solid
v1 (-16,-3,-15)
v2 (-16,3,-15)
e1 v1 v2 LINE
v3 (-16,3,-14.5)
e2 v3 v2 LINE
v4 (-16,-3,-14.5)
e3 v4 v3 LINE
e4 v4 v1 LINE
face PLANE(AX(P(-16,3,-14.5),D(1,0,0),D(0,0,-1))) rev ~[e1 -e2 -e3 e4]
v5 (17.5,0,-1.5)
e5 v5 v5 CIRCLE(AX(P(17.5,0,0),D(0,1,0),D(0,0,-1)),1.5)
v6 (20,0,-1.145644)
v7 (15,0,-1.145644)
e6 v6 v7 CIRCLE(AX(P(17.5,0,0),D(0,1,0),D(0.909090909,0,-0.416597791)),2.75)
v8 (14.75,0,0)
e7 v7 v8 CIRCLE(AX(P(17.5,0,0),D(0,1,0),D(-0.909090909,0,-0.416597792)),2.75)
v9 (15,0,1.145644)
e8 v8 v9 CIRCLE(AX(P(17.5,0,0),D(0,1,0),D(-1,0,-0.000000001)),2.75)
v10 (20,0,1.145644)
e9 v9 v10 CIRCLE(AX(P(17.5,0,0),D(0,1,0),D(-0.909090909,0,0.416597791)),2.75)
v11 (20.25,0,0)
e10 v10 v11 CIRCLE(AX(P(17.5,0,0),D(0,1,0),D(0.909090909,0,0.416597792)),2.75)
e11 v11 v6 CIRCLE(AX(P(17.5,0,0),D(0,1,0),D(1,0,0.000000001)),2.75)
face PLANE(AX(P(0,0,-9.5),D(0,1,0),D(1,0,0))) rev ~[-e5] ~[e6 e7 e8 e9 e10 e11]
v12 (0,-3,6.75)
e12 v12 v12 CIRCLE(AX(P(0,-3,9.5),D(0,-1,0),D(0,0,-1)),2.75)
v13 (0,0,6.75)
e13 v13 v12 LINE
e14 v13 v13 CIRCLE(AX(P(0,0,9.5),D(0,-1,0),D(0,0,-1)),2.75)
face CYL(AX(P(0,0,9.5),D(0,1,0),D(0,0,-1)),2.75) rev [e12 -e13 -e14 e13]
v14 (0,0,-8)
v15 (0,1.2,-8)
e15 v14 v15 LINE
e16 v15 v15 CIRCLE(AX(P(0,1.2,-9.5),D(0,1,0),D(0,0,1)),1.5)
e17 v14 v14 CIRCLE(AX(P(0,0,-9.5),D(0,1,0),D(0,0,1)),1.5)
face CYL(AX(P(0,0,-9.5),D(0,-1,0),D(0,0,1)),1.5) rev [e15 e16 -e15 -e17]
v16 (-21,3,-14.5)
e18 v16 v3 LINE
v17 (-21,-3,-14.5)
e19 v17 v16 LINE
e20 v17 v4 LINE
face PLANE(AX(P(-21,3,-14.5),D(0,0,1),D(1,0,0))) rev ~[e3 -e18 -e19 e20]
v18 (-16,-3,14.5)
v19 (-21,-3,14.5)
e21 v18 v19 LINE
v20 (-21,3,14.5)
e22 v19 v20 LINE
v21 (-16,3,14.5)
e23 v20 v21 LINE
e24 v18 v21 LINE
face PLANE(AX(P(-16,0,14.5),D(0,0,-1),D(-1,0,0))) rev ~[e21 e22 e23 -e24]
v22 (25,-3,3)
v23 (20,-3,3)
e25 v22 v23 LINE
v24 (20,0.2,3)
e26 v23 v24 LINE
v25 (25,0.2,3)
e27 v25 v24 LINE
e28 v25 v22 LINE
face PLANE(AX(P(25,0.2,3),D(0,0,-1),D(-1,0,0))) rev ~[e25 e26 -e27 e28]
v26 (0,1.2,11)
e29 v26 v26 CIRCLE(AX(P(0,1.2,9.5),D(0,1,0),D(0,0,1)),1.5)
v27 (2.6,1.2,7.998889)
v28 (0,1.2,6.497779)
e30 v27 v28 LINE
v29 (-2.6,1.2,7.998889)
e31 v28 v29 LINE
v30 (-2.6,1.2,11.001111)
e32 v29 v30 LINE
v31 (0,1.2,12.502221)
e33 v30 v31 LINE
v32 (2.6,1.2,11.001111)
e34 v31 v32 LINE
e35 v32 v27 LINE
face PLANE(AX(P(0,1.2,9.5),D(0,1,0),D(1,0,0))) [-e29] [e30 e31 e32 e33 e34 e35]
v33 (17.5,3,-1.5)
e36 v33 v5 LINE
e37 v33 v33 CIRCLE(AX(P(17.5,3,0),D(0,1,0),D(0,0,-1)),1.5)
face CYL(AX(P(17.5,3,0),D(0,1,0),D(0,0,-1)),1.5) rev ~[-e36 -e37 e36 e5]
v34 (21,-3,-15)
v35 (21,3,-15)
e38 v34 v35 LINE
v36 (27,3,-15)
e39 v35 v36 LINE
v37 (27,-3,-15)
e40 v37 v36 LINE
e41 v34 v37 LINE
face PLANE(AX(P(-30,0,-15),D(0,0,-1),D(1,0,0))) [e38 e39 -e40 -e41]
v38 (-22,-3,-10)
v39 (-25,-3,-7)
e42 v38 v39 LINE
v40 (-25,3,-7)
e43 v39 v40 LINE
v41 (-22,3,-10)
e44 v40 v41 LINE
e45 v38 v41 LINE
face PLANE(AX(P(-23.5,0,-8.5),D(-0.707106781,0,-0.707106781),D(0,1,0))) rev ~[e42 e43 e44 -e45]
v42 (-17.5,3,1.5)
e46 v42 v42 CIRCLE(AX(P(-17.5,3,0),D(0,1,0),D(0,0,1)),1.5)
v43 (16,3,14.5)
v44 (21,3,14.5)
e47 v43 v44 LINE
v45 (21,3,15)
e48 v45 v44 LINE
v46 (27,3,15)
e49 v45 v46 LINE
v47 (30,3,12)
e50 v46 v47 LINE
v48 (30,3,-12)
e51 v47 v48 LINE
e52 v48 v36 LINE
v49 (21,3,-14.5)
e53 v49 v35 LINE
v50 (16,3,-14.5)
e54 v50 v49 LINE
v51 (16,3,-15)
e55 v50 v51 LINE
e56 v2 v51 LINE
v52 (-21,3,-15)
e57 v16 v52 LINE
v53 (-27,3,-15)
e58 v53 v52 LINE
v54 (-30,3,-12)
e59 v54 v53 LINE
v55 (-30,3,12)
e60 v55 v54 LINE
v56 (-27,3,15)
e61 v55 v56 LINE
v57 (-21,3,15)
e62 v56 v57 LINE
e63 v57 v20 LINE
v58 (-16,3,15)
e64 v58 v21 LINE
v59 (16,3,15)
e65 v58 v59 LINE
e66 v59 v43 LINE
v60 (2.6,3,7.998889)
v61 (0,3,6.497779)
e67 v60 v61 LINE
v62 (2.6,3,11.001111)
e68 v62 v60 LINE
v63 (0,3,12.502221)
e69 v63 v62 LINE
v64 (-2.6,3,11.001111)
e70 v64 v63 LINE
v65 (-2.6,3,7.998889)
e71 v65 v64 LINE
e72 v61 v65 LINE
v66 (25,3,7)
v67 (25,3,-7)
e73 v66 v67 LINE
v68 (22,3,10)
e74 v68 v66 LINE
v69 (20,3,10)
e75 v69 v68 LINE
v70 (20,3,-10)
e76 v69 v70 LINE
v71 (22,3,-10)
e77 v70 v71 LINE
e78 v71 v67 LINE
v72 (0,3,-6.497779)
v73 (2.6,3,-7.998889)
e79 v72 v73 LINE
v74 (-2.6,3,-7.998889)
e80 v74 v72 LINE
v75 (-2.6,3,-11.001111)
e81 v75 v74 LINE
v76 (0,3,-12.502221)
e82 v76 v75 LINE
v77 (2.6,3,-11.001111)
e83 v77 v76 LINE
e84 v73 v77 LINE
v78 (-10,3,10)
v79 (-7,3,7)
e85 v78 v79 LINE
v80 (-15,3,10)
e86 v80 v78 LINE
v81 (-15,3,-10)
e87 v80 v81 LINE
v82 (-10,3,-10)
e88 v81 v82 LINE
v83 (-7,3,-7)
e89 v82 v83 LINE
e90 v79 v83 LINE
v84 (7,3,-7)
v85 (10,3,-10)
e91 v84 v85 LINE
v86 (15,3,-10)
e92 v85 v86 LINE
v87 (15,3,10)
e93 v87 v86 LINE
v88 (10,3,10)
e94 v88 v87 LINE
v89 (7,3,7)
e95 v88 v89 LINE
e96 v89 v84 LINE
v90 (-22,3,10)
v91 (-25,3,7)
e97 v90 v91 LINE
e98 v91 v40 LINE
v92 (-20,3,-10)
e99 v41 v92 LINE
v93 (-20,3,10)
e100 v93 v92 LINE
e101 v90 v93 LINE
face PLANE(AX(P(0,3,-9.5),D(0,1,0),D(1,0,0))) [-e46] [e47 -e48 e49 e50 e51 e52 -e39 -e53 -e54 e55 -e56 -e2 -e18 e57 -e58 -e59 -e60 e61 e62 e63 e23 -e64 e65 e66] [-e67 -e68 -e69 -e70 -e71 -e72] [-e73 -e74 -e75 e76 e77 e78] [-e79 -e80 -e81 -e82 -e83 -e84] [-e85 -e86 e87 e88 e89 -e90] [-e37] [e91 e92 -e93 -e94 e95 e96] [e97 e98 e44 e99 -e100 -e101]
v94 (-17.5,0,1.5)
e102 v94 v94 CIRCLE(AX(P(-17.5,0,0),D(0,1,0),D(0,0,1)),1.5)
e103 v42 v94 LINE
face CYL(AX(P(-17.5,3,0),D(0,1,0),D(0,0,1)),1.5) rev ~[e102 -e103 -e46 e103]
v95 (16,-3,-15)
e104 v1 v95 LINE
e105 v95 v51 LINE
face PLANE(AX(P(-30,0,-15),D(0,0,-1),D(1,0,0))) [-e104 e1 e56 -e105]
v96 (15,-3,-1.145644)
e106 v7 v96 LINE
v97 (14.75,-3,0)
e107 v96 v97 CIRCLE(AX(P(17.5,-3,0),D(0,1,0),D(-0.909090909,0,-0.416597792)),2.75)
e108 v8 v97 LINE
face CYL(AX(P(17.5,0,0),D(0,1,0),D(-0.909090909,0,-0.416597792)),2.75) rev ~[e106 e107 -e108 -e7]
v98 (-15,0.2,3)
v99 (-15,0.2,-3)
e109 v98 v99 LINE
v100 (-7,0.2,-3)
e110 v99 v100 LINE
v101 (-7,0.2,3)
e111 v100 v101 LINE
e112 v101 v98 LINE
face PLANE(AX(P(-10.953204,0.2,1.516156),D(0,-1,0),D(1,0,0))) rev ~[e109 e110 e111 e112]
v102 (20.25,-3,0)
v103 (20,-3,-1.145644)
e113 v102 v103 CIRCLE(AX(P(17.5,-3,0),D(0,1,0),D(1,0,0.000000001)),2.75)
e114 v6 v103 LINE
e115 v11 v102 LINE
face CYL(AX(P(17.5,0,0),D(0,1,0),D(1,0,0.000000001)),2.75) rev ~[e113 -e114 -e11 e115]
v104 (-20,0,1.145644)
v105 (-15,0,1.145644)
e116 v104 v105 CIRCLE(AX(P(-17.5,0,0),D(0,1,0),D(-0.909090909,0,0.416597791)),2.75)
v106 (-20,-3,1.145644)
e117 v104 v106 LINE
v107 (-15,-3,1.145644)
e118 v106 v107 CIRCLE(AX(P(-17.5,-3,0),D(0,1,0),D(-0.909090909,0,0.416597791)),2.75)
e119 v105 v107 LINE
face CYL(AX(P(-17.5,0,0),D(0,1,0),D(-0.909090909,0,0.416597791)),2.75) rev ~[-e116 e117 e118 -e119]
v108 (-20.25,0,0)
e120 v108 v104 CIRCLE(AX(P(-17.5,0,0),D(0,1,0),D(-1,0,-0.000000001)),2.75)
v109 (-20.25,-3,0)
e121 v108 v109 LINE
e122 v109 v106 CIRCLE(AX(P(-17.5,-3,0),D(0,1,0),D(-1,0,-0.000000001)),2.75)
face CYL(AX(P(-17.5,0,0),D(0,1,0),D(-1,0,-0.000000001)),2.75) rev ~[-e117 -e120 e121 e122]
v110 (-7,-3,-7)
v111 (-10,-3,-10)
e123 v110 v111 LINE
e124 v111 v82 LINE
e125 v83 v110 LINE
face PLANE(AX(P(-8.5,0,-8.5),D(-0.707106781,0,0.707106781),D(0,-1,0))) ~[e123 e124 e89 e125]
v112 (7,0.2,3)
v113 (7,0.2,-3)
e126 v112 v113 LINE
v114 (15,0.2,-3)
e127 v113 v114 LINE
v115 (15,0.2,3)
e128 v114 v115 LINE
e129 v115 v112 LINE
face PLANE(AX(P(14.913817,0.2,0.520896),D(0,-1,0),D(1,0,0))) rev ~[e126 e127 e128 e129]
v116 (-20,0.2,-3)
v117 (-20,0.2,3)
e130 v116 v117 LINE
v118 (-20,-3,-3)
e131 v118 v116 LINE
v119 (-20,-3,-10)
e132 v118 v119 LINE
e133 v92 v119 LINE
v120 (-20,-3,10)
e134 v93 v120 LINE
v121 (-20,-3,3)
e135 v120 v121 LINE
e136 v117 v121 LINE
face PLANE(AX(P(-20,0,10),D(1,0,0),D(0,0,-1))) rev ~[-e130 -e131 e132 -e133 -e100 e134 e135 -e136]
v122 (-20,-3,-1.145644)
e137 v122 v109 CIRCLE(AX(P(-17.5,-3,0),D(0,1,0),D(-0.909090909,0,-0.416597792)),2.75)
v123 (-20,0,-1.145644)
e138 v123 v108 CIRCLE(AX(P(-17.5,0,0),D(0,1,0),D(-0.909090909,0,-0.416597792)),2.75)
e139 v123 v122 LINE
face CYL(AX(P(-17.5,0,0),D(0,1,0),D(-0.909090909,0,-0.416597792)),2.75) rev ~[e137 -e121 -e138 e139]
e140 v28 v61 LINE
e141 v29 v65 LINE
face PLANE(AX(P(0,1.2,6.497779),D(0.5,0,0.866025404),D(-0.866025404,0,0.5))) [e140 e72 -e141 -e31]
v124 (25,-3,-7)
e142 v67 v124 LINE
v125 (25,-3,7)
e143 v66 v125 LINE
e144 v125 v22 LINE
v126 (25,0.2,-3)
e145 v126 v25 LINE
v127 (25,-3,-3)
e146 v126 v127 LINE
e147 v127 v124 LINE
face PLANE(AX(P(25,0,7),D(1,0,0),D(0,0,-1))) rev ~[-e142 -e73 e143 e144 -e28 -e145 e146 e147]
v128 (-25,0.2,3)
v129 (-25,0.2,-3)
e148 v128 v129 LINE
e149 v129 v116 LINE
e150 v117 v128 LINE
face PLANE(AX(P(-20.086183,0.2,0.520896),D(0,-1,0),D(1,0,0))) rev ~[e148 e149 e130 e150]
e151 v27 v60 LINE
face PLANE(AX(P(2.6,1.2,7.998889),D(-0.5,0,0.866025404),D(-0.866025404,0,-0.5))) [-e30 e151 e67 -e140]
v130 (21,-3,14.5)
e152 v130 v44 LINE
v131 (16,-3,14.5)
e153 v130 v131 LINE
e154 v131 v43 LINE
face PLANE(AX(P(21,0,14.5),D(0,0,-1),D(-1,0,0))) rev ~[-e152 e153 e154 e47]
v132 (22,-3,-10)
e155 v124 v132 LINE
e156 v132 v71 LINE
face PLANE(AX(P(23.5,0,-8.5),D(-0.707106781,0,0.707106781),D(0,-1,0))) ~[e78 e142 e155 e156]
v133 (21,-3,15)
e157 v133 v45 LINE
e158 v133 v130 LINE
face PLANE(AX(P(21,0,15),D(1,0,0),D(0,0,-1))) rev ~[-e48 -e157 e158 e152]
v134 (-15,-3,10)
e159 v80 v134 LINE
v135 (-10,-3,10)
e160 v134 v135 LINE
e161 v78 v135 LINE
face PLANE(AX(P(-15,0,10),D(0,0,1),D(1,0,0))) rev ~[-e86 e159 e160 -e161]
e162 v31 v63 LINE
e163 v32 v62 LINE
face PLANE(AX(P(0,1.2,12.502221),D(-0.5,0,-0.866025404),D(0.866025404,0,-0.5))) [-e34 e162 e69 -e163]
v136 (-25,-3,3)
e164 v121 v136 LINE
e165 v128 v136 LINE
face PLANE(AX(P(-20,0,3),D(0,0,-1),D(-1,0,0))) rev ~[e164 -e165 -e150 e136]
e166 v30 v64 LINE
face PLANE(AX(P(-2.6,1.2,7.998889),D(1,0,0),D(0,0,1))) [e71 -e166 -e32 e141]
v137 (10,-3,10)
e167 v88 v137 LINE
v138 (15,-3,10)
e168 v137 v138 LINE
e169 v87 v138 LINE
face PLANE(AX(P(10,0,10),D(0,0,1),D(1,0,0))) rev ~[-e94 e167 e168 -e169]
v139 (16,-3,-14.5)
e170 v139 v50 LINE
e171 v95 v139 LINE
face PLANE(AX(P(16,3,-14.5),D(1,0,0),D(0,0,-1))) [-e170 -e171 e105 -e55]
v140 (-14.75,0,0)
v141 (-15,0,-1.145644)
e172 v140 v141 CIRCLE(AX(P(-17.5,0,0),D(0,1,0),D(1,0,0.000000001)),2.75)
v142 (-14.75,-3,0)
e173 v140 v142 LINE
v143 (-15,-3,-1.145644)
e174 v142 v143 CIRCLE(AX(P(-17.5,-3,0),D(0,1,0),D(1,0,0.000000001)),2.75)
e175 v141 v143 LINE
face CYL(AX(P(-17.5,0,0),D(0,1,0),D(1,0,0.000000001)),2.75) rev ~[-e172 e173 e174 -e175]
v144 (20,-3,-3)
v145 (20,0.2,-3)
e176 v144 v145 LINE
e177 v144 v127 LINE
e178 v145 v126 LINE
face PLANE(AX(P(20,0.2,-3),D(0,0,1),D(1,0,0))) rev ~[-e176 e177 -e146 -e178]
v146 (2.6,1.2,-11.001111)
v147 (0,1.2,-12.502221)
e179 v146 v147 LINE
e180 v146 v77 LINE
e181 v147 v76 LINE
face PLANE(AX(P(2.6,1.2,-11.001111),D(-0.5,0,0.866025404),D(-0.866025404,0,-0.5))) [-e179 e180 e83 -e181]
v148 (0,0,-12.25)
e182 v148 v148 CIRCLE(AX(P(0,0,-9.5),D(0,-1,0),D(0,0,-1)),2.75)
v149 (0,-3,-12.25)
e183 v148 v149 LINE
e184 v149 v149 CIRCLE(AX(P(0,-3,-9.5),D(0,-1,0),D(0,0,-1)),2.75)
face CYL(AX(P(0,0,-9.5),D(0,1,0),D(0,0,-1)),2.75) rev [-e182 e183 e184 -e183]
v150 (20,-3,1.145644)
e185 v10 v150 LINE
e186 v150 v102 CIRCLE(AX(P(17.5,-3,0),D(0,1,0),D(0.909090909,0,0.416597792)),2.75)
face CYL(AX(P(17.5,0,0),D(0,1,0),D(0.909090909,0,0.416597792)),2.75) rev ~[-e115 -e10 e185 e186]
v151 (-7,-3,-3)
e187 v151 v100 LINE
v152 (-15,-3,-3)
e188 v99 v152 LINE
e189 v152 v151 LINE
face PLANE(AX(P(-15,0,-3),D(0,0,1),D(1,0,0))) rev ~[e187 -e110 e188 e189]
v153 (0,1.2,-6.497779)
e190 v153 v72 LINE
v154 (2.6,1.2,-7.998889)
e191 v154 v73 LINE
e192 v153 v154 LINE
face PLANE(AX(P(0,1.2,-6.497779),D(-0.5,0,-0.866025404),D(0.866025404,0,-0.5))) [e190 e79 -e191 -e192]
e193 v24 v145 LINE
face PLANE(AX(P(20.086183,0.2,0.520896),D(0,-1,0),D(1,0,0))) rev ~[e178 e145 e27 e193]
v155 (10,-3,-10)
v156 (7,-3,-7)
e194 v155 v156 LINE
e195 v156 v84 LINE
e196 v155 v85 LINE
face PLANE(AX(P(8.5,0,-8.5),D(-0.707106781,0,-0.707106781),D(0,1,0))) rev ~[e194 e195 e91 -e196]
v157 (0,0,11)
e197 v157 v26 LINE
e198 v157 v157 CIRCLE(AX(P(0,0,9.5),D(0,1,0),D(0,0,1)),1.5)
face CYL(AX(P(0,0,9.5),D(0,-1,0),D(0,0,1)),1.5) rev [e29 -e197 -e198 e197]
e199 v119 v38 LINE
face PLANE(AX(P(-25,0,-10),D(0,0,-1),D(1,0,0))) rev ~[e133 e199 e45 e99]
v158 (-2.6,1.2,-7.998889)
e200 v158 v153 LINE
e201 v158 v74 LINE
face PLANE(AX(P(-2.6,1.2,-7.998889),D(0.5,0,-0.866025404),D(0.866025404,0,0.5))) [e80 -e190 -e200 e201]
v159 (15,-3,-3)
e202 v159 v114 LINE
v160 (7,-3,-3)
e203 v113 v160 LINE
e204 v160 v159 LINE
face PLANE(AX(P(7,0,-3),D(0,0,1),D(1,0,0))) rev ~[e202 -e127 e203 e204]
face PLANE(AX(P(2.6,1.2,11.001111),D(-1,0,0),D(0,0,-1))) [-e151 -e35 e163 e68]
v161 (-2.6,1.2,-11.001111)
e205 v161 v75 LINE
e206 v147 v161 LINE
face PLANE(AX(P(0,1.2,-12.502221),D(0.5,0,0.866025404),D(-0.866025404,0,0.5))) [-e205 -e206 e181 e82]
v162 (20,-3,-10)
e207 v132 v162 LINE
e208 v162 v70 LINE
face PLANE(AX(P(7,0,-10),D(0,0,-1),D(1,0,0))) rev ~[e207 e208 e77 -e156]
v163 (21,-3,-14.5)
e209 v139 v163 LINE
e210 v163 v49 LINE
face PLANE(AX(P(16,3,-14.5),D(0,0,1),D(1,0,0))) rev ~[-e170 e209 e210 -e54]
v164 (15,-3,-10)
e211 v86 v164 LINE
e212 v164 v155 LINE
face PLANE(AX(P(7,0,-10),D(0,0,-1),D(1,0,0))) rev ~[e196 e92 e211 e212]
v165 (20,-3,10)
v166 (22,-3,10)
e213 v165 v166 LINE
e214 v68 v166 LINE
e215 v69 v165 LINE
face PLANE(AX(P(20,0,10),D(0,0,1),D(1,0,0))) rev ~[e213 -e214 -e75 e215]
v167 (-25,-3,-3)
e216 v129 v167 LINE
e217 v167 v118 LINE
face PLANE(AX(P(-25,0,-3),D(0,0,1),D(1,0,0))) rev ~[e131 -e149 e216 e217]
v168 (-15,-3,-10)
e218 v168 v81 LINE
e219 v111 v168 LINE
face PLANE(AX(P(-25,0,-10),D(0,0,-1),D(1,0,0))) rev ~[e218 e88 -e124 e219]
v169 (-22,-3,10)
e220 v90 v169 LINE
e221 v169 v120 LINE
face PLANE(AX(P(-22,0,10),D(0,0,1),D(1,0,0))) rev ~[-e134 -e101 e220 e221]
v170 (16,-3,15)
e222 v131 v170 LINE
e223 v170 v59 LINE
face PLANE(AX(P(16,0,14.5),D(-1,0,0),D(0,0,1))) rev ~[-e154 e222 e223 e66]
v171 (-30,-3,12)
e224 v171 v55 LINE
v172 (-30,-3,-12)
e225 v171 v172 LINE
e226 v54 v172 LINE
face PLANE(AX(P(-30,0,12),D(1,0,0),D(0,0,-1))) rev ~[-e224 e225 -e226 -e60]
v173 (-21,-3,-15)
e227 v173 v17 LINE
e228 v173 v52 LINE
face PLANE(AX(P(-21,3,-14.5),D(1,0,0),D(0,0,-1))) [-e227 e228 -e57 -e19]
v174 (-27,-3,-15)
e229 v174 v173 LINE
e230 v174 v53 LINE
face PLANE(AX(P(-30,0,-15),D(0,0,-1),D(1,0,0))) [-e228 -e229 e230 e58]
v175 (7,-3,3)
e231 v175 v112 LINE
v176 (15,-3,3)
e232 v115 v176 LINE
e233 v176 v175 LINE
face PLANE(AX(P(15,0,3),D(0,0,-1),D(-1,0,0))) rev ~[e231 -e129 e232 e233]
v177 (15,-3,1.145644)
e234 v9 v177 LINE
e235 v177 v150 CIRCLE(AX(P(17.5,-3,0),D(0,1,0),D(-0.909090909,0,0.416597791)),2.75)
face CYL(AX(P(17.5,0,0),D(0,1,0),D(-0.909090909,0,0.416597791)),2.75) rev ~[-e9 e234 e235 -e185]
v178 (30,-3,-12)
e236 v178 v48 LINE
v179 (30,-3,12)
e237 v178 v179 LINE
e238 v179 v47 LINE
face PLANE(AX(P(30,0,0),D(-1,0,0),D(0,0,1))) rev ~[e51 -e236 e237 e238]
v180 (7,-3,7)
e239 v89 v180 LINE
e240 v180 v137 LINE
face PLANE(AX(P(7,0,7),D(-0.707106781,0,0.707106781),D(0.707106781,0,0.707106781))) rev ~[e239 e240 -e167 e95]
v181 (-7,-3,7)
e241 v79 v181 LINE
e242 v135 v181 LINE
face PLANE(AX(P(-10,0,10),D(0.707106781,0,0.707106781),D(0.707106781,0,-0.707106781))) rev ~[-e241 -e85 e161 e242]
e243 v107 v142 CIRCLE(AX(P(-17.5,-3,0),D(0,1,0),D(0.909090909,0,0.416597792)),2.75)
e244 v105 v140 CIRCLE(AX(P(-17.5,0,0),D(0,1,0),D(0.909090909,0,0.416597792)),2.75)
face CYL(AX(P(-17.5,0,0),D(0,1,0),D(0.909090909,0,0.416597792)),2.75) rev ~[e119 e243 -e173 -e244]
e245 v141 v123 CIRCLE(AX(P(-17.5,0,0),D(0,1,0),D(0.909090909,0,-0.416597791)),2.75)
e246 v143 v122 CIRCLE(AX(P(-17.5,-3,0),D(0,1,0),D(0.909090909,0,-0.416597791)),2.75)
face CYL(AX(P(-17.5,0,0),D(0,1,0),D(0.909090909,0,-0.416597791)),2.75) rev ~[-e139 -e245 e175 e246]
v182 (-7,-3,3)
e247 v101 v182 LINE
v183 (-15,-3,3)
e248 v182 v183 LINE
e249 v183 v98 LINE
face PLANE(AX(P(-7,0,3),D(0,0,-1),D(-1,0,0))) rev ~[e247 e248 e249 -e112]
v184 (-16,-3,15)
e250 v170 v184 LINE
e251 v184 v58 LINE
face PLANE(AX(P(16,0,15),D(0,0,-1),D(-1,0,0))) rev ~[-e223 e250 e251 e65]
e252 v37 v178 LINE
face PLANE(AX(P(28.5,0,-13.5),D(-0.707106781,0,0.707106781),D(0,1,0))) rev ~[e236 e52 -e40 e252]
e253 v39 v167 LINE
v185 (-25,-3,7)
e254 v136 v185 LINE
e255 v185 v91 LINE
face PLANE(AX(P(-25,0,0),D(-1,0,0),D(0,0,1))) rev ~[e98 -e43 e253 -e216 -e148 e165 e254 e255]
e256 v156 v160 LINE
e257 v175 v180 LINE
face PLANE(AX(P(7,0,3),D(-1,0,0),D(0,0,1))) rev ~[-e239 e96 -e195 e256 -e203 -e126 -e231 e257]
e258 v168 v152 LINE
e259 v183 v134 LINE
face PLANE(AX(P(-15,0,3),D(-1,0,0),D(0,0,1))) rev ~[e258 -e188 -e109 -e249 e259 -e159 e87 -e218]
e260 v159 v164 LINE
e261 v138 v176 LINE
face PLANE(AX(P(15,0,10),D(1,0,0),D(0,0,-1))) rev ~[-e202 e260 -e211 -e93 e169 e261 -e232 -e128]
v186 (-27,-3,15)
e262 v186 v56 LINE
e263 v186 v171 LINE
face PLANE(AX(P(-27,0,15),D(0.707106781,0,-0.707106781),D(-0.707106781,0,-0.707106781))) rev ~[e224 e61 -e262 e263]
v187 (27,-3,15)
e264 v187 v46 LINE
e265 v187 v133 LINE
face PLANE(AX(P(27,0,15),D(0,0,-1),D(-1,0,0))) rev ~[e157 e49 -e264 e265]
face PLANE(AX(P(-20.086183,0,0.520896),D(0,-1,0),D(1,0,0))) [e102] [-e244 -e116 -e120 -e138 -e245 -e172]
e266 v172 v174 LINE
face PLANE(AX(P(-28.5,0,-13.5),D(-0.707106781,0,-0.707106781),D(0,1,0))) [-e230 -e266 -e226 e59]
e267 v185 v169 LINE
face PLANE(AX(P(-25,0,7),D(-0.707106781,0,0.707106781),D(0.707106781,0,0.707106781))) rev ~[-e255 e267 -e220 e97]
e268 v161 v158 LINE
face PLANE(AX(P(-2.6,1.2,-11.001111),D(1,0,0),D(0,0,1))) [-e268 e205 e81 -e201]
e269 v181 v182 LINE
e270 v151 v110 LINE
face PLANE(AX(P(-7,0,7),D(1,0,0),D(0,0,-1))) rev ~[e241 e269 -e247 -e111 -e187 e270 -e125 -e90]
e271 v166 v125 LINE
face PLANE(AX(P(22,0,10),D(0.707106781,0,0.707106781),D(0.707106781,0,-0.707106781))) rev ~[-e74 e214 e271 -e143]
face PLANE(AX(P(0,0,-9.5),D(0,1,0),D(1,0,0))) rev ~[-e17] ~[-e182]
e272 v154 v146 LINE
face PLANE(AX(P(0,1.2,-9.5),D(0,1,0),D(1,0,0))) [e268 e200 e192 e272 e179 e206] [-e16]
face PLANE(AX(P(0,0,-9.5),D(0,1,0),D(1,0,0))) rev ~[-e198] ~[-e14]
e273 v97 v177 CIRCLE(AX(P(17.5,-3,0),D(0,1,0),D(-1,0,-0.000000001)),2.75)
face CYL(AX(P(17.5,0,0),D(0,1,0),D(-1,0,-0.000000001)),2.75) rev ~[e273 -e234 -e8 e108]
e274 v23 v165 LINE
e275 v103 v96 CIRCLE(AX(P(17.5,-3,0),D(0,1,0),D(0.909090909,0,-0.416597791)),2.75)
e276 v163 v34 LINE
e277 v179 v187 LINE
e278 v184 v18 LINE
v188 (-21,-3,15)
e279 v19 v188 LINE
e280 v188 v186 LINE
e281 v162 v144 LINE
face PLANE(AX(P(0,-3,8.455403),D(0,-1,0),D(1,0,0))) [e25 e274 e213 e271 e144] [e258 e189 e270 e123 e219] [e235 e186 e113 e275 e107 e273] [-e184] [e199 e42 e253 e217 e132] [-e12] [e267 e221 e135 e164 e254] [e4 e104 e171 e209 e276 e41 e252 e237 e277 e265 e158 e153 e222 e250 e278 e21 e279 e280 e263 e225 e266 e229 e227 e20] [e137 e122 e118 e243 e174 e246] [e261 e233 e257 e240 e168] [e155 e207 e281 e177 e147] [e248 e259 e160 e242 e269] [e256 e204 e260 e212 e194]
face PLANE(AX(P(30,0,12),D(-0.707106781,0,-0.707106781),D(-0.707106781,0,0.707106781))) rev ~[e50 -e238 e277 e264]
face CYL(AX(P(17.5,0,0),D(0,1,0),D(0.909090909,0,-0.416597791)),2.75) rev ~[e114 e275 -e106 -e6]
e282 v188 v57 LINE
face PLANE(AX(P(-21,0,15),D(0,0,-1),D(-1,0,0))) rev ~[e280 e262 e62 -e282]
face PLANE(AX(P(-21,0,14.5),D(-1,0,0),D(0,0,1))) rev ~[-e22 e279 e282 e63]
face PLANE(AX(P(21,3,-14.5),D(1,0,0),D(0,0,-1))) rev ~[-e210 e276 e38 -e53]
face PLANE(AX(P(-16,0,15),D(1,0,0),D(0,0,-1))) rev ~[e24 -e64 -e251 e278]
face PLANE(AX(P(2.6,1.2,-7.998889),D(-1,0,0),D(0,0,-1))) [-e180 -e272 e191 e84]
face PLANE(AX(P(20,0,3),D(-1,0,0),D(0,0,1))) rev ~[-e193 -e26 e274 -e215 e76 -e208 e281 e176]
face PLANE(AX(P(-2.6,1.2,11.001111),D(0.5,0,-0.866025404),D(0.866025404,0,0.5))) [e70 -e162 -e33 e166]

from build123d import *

# Parameters (mm, degrees)
SKETCH_1_W          = 60
SKETCH_1_H          = 30
SKETCH_1_W_2        = 18
SKETCH_1_H_2        = 20
SKETCH_1_R          = 1.5
EXTRUDE_1_DEPTH     = 3
CUT_EXTRUDE_START   = 1.2
SKETCH_1_3_R        = 1.5
CUT_EXTRUDE_1_DEPTH = 1.8
CHAMFER_1_SIZE      = 3
SKETCH_2_W          = 5
SKETCH_2_H          = 0.5
CUT_EXTRUDE_2_DEPTH = 34.674916481
SKETCH_3_W          = 5
SKETCH_3_H          = 20
SKETCH_3_R          = 1.5
EXTRUDE_2_DEPTH     = 3
SKETCH_4_R          = 2.75
SKETCH_4_W          = 14
SKETCH_4_H          = 3
EXTRUDE_3_DEPTH     = 3
EXTRUDE_START       = -0.2
EXTRUDE_4_DEPTH     = 0.2


with BuildPart() as part:
    # 스케치1 → 보스-돌출1 (new body)
    # profile 1 of 3: a face of its own
    with BuildSketch(Plane(origin=(0, 0, 0), x_dir=(1, 0, 0), z_dir=(0, 1, 0))):
        Rectangle(SKETCH_1_W, SKETCH_1_H)
        Polygon((2.6, 11.0011107), (0, 12.5022214), (-2.6, 11.0011107), (-2.6, 7.9988893), (0, 6.4977786), (2.6, 7.9988893), align=None, mode=Mode.SUBTRACT)
        Polygon((2.6, -7.9988893), (0, -6.4977786), (-2.6, -7.9988893), (-2.6, -11.0011107), (0, -12.5022214), (2.6, -11.0011107), align=None, mode=Mode.SUBTRACT)
        with Locations((-16, 0)):
            Rectangle(SKETCH_1_W_2, SKETCH_1_H_2, mode=Mode.SUBTRACT)
        with Locations((16, 0)):
            Rectangle(SKETCH_1_W_2, SKETCH_1_H_2, mode=Mode.SUBTRACT)
    # profile 2 of 3: a face of its own
    with BuildSketch(Plane(origin=(0, 0, 0), x_dir=(1, 0, 0), z_dir=(0, 1, 0))):
        Polygon((2.6, -11.0011107), (2.6, -7.9988893), (0, -6.4977786), (-2.6, -7.9988893), (-2.6, -11.0011107), (0, -12.5022214), align=None)
        with Locations(Location((0, -9.5, 0), (0, 0, 270))):
            Circle(SKETCH_1_R, mode=Mode.SUBTRACT)
    # profile 3 of 3: a face of its own
    with BuildSketch(Plane(origin=(0, 0, 0), x_dir=(1, 0, 0), z_dir=(0, 1, 0))):
        Polygon((2.6, 7.9988893), (2.6, 11.0011107), (0, 12.5022214), (-2.6, 11.0011107), (-2.6, 7.9988893), (0, 6.4977786), align=None)
        with Locations(Location((0, 9.5, 0), (0, 0, 270))):
            Circle(SKETCH_1_R, mode=Mode.SUBTRACT)
    extrude(amount=EXTRUDE_1_DEPTH)

    # 스케치1<3> → 컷-돌출1 (cut)
    # profile 1 of 2: a face of its own
    with BuildSketch(Plane(origin=(0, 0, 0), x_dir=(1, 0, 0), z_dir=(0, 1, 0)).offset(CUT_EXTRUDE_START)):
        Polygon((2.6, -11.0011107), (2.6, -7.9988893), (0, -6.4977786), (-2.6, -7.9988893), (-2.6, -11.0011107), (0, -12.5022214), align=None)
        with Locations(Location((0, -9.5, 0), (0, 0, 270))):
            Circle(SKETCH_1_3_R, mode=Mode.SUBTRACT)
    # profile 2 of 2: a face of its own
    with BuildSketch(Plane(origin=(0, 0, 0), x_dir=(1, 0, 0), z_dir=(0, 1, 0)).offset(CUT_EXTRUDE_START)):
        Polygon((2.6, 7.9988893), (2.6, 11.0011107), (0, 12.5022214), (-2.6, 11.0011107), (-2.6, 7.9988893), (0, 6.4977786), align=None)
        with Locations(Location((0, 9.5, 0), (0, 0, 270))):
            Circle(SKETCH_1_3_R, mode=Mode.SUBTRACT)
    extrude(amount=CUT_EXTRUDE_1_DEPTH, mode=Mode.SUBTRACT)

    # 모따기1
    chamfer_1_edges = [part.edges().sort_by_distance(p)[0] for p in [
        (25, 1.5, -10),
        (7, 1.5, -10),
        (7, 1.5, 10),
        (25, 1.5, 10),
        (-25, 1.5, -10),
        (-25, 1.5, 10),
        (-7, 1.5, 10),
        (-7, 1.5, -10),
        (-30, 1.5, 15),
        (-30, 1.5, -15),
        (30, 1.5, -15),
        (30, 1.5, 15),
    ]]
    chamfer(chamfer_1_edges, length=CHAMFER_1_SIZE)

    # 스케치2 → 컷-돌출2 (cut, through all)
    with BuildSketch(Plane(origin=(0, 3, 0), x_dir=(1, 0, 0), z_dir=(0, 1, 0))):
        with Locations((-18.5, -14.75)):
            Rectangle(SKETCH_2_W, SKETCH_2_H)
        with Locations((18.5, -14.75)):
            Rectangle(SKETCH_2_W, SKETCH_2_H)
        with Locations((18.5, 14.75)):
            Rectangle(SKETCH_2_W, SKETCH_2_H)
        with Locations((-18.5, 14.75)):
            Rectangle(SKETCH_2_W, SKETCH_2_H)
    extrude(amount=-CUT_EXTRUDE_2_DEPTH, mode=Mode.SUBTRACT)

    # 스케치3 → 보스-돌출2 (add)
    # profile 1 of 2: a face of its own
    with BuildSketch(Plane(origin=(0, 3, 0), x_dir=(1, 0, 0), z_dir=(0, 1, 0))):
        with Locations((-17.5, 0)):
            Rectangle(SKETCH_3_W, SKETCH_3_H)
        with Locations(Location((-17.5, 0, 0), (0, 0, 270))):
            Circle(SKETCH_3_R, mode=Mode.SUBTRACT)
    # profile 2 of 2: a face of its own
    with BuildSketch(Plane(origin=(0, 3, 0), x_dir=(1, 0, 0), z_dir=(0, 1, 0))):
        with Locations((17.5, 0)):
            Rectangle(SKETCH_3_W, SKETCH_3_H)
        with Locations(Location((17.5, 0, 0), (0, 0, 90))):
            Circle(SKETCH_3_R, mode=Mode.SUBTRACT)
    extrude(amount=-EXTRUDE_2_DEPTH)

    # 스케치4 → 보스-돌출3 (add)
    # profile 1 of 16: a face of its own
    with BuildSketch(Plane.XZ):
        Polygon((-25, 7), (-22, 10), (-20, 10), (-20, 3), (-15, 3), (-15, 10), (-10, 10), (-7, 7), (-7, 3), (7, 3), (7, 7), (10, 10), (15, 10), (15, 3), (20, 3), (20, 10), (22, 10), (25, 7), (25, 3), (25, 0), (30, 0), (30, 12), (27, 15), (21, 15), (21, 14.5), (16, 14.5), (16, 15), (-16, 15), (-16, 14.5), (-21, 14.5), (-21, 15), (-27, 15), (-30, 12), (-30, 0), (-25, 0), (-25, 3), align=None)
        with Locations(Location((0, 9.5, 0), (0, 0, 270))):
            Circle(SKETCH_4_R, mode=Mode.SUBTRACT)
    # profile 2 of 16: a face of its own
    with BuildSketch(Plane.XZ):
        Polygon((-25, -3), (-25, 0), (-30, 0), (-30, -12), (-27, -15), (-21, -15), (-21, -14.5), (-16, -14.5), (-16, -15), (16, -15), (16, -14.5), (21, -14.5), (21, -15), (27, -15), (30, -12), (30, 0), (25, 0), (25, -3), (25, -7), (22, -10), (20, -10), (20, -3), (15, -3), (15, -10), (10, -10), (7, -7), (7, -3), (-7, -3), (-7, -7), (-10, -10), (-15, -10), (-15, -3), (-20, -3), (-20, -10), (-22, -10), (-25, -7), align=None)
        with Locations(Location((0, -9.5, 0), (0, 0, 270))):
            Circle(SKETCH_4_R, mode=Mode.SUBTRACT)
    # profile 3 of 16: a face of its own
    with BuildSketch(Plane.XZ):
        with Locations((0, 1.5)):
            Rectangle(SKETCH_4_W, SKETCH_4_H)
    # profile 4 of 16: a face of its own
    with BuildSketch(Plane.XZ):
        with Locations((0, -1.5)):
            Rectangle(SKETCH_4_W, SKETCH_4_H)
    # profile 5 of 16: a face of its own
    with BuildSketch(Plane.XZ):
        with BuildLine():
            Line((-20, 1.145643924), (-20, 3))
            Line((-20, 3), (-25, 3))
            Line((-25, 3), (-25, 0))
            Line((-25, 0), (-20.25, 0))
            ThreePointArc((-20.25, 0), (-20.186773158, 0.58630197), (-20, 1.145643924))
        make_face()
    # profile 6 of 16: a face of its own
    with BuildSketch(Plane.XZ):
        with BuildLine():
            Line((-20.25, 0), (-25, 0))
            Line((-25, 0), (-25, -3))
            Line((-25, -3), (-20, -3))
            Line((-20, -3), (-20, -1.145643924))
            ThreePointArc((-20, -1.145643924), (-20.186773158, -0.58630197), (-20.25, 0))
        make_face()
    # profile 7 of 16: a face of its own
    with BuildSketch(Plane.XZ):
        with BuildLine():
            Line((-15, 3), (-20, 3))
            Line((-20, 3), (-20, 1.145643924))
            ThreePointArc((-20, 1.145643924), (-17.5, 2.75), (-15, 1.145643924))
            Line((-15, 1.145643924), (-15, 3))
        make_face()
    # profile 8 of 16: a face of its own
    with BuildSketch(Plane.XZ):
        with BuildLine():
            Line((-7, 3), (-15, 3))
            Line((-15, 3), (-15, 1.145643924))
            ThreePointArc((-15, 1.145643924), (-14.813226842, 0.58630197), (-14.75, 0))
            Line((-14.75, 0), (-7, 0))
            Line((-7, 0), (-7, 3))
        make_face()
    # profile 9 of 16: a face of its own
    with BuildSketch(Plane.XZ):
        with BuildLine():
            ThreePointArc((-15, -1.145643924), (-17.5, -2.75), (-20, -1.145643924))
            Line((-20, -1.145643924), (-20, -3))
            Line((-20, -3), (-15, -3))
            Line((-15, -3), (-15, -1.145643924))
        make_face()
    # profile 10 of 16: a face of its own
    with BuildSketch(Plane.XZ):
        with BuildLine():
            Line((-7, 0), (-14.75, 0))
            ThreePointArc((-14.75, 0), (-14.813226842, -0.58630197), (-15, -1.145643924))
            Line((-15, -1.145643924), (-15, -3))
            Line((-15, -3), (-7, -3))
            Line((-7, -3), (-7, 0))
        make_face()
    # profile 11 of 16: a face of its own
    with BuildSketch(Plane.XZ):
        with BuildLine():
            Line((15, 3), (7, 3))
            Line((7, 3), (7, 0))
            Line((7, 0), (14.75, 0))
            ThreePointArc((14.75, 0), (14.813226842, 0.58630197), (15, 1.145643924))
            Line((15, 1.145643924), (15, 3))
        make_face()
    # profile 12 of 16: a face of its own
    with BuildSketch(Plane.XZ):
        with BuildLine():
            Line((14.75, 0), (7, 0))
            Line((7, 0), (7, -3))
            Line((7, -3), (15, -3))
            Line((15, -3), (15, -1.145643924))
            ThreePointArc((15, -1.145643924), (14.813226842, -0.58630197), (14.75, 0))
        make_face()
    # profile 13 of 16: a face of its own
    with BuildSketch(Plane.XZ):
        with BuildLine():
            Line((20, 3), (15, 3))
            Line((15, 3), (15, 1.145643924))
            ThreePointArc((15, 1.145643924), (17.5, 2.75), (20, 1.145643924))
            Line((20, 1.145643924), (20, 3))
        make_face()
    # profile 14 of 16: a face of its own
    with BuildSketch(Plane.XZ):
        with BuildLine():
            Line((15, -1.145643924), (15, -3))
            Line((15, -3), (20, -3))
            Line((20, -3), (20, -1.145643924))
            ThreePointArc((20, -1.145643924), (17.5, -2.75), (15, -1.145643924))
        make_face()
    # profile 15 of 16: a face of its own
    with BuildSketch(Plane.XZ):
        with BuildLine():
            Line((20, -1.145643924), (20, -3))
            Line((20, -3), (25, -3))
            Line((25, -3), (25, 0))
            Line((25, 0), (20.25, 0))
            ThreePointArc((20.25, 0), (20.186773158, -0.58630197), (20, -1.145643924))
        make_face()
    # profile 16 of 16: a face of its own
    with BuildSketch(Plane.XZ):
        with BuildLine():
            Line((25, 3), (20, 3))
            Line((20, 3), (20, 1.145643924))
            ThreePointArc((20, 1.145643924), (20.186773158, 0.58630197), (20.25, 0))
            Line((20.25, 0), (25, 0))
            Line((25, 0), (25, 3))
        make_face()
    extrude(amount=EXTRUDE_3_DEPTH)

    # 스케치4<3> → 보스-돌출4 (add)
    with BuildSketch(Plane.XZ.offset(EXTRUDE_START)):
        with BuildLine():
            ThreePointArc((20.25, 0), (20.186773158, 0.58630197), (20, 1.145643924))
            Line((20, 1.145643924), (20, 0))
            Line((20, 0), (20.25, 0))
        make_face()
        with BuildLine():
            Line((20, 0), (20, -1.145643924))
            ThreePointArc((20, -1.145643924), (20.186773158, -0.58630197), (20.25, 0))
            Line((20.25, 0), (20, 0))
        make_face()
        with BuildLine():
            Line((20, -1.145643924), (20, -3))
            Line((20, -3), (25, -3))
            Line((25, -3), (25, 0))
            Line((25, 0), (20.25, 0))
            ThreePointArc((20.25, 0), (20.186773158, -0.58630197), (20, -1.145643924))
        make_face()
        with BuildLine():
            Line((25, 3), (20, 3))
            Line((20, 3), (20, 1.145643924))
            ThreePointArc((20, 1.145643924), (20.186773158, 0.58630197), (20.25, 0))
            Line((20.25, 0), (25, 0))
            Line((25, 0), (25, 3))
        make_face()
        with BuildLine():
            ThreePointArc((15, 1.145643924), (14.813226842, 0.58630197), (14.75, 0))
            Line((14.75, 0), (15, 0))
            Line((15, 0), (15, 1.145643924))
        make_face()
        with BuildLine():
            Line((15, 0), (14.75, 0))
            ThreePointArc((14.75, 0), (14.813226842, -0.58630197), (15, -1.145643924))
            Line((15, -1.145643924), (15, 0))
        make_face()
        with BuildLine():
            Line((14.75, 0), (7, 0))
            Line((7, 0), (7, -3))
            Line((7, -3), (15, -3))
            Line((15, -3), (15, -1.145643924))
            ThreePointArc((15, -1.145643924), (14.813226842, -0.58630197), (14.75, 0))
        make_face()
        with BuildLine():
            Line((15, 3), (7, 3))
            Line((7, 3), (7, 0))
            Line((7, 0), (14.75, 0))
            ThreePointArc((14.75, 0), (14.813226842, 0.58630197), (15, 1.145643924))
            Line((15, 1.145643924), (15, 3))
        make_face()
        with BuildLine():
            Line((-20, 0), (-20, 1.145643924))
            ThreePointArc((-20, 1.145643924), (-20.186773158, 0.58630197), (-20.25, 0))
            Line((-20.25, 0), (-20, 0))
        make_face()
        with BuildLine():
            Line((-20, -1.145643924), (-20, 0))
            Line((-20, 0), (-20.25, 0))
            ThreePointArc((-20.25, 0), (-20.186773158, -0.58630197), (-20, -1.145643924))
        make_face()
        with BuildLine():
            Line((-20.25, 0), (-25, 0))
            Line((-25, 0), (-25, -3))
            Line((-25, -3), (-20, -3))
            Line((-20, -3), (-20, -1.145643924))
            ThreePointArc((-20, -1.145643924), (-20.186773158, -0.58630197), (-20.25, 0))
        make_face()
        with BuildLine():
            Line((-20, 1.145643924), (-20, 3))
            Line((-20, 3), (-25, 3))
            Line((-25, 3), (-25, 0))
            Line((-25, 0), (-20.25, 0))
            ThreePointArc((-20.25, 0), (-20.186773158, 0.58630197), (-20, 1.145643924))
        make_face()
        with BuildLine():
            Line((-7, 3), (-15, 3))
            Line((-15, 3), (-15, 1.145643924))
            ThreePointArc((-15, 1.145643924), (-14.813226842, 0.58630197), (-14.75, 0))
            Line((-14.75, 0), (-7, 0))
            Line((-7, 0), (-7, 3))
        make_face()
        with BuildLine():
            Line((-7, 0), (-14.75, 0))
            ThreePointArc((-14.75, 0), (-14.813226842, -0.58630197), (-15, -1.145643924))
            Line((-15, -1.145643924), (-15, -3))
            Line((-15, -3), (-7, -3))
            Line((-7, -3), (-7, 0))
        make_face()
        with BuildLine():
            ThreePointArc((-14.75, 0), (-14.813226842, 0.58630197), (-15, 1.145643924))
            Line((-15, 1.145643924), (-15, 0))
            Line((-15, 0), (-14.75, 0))
        make_face()
        with BuildLine():
            Line((-14.75, 0), (-15, 0))
            Line((-15, 0), (-15, -1.145643924))
            ThreePointArc((-15, -1.145643924), (-14.813226842, -0.58630197), (-14.75, 0))
        make_face()
    extrude(amount=EXTRUDE_4_DEPTH)


solid = part.part
